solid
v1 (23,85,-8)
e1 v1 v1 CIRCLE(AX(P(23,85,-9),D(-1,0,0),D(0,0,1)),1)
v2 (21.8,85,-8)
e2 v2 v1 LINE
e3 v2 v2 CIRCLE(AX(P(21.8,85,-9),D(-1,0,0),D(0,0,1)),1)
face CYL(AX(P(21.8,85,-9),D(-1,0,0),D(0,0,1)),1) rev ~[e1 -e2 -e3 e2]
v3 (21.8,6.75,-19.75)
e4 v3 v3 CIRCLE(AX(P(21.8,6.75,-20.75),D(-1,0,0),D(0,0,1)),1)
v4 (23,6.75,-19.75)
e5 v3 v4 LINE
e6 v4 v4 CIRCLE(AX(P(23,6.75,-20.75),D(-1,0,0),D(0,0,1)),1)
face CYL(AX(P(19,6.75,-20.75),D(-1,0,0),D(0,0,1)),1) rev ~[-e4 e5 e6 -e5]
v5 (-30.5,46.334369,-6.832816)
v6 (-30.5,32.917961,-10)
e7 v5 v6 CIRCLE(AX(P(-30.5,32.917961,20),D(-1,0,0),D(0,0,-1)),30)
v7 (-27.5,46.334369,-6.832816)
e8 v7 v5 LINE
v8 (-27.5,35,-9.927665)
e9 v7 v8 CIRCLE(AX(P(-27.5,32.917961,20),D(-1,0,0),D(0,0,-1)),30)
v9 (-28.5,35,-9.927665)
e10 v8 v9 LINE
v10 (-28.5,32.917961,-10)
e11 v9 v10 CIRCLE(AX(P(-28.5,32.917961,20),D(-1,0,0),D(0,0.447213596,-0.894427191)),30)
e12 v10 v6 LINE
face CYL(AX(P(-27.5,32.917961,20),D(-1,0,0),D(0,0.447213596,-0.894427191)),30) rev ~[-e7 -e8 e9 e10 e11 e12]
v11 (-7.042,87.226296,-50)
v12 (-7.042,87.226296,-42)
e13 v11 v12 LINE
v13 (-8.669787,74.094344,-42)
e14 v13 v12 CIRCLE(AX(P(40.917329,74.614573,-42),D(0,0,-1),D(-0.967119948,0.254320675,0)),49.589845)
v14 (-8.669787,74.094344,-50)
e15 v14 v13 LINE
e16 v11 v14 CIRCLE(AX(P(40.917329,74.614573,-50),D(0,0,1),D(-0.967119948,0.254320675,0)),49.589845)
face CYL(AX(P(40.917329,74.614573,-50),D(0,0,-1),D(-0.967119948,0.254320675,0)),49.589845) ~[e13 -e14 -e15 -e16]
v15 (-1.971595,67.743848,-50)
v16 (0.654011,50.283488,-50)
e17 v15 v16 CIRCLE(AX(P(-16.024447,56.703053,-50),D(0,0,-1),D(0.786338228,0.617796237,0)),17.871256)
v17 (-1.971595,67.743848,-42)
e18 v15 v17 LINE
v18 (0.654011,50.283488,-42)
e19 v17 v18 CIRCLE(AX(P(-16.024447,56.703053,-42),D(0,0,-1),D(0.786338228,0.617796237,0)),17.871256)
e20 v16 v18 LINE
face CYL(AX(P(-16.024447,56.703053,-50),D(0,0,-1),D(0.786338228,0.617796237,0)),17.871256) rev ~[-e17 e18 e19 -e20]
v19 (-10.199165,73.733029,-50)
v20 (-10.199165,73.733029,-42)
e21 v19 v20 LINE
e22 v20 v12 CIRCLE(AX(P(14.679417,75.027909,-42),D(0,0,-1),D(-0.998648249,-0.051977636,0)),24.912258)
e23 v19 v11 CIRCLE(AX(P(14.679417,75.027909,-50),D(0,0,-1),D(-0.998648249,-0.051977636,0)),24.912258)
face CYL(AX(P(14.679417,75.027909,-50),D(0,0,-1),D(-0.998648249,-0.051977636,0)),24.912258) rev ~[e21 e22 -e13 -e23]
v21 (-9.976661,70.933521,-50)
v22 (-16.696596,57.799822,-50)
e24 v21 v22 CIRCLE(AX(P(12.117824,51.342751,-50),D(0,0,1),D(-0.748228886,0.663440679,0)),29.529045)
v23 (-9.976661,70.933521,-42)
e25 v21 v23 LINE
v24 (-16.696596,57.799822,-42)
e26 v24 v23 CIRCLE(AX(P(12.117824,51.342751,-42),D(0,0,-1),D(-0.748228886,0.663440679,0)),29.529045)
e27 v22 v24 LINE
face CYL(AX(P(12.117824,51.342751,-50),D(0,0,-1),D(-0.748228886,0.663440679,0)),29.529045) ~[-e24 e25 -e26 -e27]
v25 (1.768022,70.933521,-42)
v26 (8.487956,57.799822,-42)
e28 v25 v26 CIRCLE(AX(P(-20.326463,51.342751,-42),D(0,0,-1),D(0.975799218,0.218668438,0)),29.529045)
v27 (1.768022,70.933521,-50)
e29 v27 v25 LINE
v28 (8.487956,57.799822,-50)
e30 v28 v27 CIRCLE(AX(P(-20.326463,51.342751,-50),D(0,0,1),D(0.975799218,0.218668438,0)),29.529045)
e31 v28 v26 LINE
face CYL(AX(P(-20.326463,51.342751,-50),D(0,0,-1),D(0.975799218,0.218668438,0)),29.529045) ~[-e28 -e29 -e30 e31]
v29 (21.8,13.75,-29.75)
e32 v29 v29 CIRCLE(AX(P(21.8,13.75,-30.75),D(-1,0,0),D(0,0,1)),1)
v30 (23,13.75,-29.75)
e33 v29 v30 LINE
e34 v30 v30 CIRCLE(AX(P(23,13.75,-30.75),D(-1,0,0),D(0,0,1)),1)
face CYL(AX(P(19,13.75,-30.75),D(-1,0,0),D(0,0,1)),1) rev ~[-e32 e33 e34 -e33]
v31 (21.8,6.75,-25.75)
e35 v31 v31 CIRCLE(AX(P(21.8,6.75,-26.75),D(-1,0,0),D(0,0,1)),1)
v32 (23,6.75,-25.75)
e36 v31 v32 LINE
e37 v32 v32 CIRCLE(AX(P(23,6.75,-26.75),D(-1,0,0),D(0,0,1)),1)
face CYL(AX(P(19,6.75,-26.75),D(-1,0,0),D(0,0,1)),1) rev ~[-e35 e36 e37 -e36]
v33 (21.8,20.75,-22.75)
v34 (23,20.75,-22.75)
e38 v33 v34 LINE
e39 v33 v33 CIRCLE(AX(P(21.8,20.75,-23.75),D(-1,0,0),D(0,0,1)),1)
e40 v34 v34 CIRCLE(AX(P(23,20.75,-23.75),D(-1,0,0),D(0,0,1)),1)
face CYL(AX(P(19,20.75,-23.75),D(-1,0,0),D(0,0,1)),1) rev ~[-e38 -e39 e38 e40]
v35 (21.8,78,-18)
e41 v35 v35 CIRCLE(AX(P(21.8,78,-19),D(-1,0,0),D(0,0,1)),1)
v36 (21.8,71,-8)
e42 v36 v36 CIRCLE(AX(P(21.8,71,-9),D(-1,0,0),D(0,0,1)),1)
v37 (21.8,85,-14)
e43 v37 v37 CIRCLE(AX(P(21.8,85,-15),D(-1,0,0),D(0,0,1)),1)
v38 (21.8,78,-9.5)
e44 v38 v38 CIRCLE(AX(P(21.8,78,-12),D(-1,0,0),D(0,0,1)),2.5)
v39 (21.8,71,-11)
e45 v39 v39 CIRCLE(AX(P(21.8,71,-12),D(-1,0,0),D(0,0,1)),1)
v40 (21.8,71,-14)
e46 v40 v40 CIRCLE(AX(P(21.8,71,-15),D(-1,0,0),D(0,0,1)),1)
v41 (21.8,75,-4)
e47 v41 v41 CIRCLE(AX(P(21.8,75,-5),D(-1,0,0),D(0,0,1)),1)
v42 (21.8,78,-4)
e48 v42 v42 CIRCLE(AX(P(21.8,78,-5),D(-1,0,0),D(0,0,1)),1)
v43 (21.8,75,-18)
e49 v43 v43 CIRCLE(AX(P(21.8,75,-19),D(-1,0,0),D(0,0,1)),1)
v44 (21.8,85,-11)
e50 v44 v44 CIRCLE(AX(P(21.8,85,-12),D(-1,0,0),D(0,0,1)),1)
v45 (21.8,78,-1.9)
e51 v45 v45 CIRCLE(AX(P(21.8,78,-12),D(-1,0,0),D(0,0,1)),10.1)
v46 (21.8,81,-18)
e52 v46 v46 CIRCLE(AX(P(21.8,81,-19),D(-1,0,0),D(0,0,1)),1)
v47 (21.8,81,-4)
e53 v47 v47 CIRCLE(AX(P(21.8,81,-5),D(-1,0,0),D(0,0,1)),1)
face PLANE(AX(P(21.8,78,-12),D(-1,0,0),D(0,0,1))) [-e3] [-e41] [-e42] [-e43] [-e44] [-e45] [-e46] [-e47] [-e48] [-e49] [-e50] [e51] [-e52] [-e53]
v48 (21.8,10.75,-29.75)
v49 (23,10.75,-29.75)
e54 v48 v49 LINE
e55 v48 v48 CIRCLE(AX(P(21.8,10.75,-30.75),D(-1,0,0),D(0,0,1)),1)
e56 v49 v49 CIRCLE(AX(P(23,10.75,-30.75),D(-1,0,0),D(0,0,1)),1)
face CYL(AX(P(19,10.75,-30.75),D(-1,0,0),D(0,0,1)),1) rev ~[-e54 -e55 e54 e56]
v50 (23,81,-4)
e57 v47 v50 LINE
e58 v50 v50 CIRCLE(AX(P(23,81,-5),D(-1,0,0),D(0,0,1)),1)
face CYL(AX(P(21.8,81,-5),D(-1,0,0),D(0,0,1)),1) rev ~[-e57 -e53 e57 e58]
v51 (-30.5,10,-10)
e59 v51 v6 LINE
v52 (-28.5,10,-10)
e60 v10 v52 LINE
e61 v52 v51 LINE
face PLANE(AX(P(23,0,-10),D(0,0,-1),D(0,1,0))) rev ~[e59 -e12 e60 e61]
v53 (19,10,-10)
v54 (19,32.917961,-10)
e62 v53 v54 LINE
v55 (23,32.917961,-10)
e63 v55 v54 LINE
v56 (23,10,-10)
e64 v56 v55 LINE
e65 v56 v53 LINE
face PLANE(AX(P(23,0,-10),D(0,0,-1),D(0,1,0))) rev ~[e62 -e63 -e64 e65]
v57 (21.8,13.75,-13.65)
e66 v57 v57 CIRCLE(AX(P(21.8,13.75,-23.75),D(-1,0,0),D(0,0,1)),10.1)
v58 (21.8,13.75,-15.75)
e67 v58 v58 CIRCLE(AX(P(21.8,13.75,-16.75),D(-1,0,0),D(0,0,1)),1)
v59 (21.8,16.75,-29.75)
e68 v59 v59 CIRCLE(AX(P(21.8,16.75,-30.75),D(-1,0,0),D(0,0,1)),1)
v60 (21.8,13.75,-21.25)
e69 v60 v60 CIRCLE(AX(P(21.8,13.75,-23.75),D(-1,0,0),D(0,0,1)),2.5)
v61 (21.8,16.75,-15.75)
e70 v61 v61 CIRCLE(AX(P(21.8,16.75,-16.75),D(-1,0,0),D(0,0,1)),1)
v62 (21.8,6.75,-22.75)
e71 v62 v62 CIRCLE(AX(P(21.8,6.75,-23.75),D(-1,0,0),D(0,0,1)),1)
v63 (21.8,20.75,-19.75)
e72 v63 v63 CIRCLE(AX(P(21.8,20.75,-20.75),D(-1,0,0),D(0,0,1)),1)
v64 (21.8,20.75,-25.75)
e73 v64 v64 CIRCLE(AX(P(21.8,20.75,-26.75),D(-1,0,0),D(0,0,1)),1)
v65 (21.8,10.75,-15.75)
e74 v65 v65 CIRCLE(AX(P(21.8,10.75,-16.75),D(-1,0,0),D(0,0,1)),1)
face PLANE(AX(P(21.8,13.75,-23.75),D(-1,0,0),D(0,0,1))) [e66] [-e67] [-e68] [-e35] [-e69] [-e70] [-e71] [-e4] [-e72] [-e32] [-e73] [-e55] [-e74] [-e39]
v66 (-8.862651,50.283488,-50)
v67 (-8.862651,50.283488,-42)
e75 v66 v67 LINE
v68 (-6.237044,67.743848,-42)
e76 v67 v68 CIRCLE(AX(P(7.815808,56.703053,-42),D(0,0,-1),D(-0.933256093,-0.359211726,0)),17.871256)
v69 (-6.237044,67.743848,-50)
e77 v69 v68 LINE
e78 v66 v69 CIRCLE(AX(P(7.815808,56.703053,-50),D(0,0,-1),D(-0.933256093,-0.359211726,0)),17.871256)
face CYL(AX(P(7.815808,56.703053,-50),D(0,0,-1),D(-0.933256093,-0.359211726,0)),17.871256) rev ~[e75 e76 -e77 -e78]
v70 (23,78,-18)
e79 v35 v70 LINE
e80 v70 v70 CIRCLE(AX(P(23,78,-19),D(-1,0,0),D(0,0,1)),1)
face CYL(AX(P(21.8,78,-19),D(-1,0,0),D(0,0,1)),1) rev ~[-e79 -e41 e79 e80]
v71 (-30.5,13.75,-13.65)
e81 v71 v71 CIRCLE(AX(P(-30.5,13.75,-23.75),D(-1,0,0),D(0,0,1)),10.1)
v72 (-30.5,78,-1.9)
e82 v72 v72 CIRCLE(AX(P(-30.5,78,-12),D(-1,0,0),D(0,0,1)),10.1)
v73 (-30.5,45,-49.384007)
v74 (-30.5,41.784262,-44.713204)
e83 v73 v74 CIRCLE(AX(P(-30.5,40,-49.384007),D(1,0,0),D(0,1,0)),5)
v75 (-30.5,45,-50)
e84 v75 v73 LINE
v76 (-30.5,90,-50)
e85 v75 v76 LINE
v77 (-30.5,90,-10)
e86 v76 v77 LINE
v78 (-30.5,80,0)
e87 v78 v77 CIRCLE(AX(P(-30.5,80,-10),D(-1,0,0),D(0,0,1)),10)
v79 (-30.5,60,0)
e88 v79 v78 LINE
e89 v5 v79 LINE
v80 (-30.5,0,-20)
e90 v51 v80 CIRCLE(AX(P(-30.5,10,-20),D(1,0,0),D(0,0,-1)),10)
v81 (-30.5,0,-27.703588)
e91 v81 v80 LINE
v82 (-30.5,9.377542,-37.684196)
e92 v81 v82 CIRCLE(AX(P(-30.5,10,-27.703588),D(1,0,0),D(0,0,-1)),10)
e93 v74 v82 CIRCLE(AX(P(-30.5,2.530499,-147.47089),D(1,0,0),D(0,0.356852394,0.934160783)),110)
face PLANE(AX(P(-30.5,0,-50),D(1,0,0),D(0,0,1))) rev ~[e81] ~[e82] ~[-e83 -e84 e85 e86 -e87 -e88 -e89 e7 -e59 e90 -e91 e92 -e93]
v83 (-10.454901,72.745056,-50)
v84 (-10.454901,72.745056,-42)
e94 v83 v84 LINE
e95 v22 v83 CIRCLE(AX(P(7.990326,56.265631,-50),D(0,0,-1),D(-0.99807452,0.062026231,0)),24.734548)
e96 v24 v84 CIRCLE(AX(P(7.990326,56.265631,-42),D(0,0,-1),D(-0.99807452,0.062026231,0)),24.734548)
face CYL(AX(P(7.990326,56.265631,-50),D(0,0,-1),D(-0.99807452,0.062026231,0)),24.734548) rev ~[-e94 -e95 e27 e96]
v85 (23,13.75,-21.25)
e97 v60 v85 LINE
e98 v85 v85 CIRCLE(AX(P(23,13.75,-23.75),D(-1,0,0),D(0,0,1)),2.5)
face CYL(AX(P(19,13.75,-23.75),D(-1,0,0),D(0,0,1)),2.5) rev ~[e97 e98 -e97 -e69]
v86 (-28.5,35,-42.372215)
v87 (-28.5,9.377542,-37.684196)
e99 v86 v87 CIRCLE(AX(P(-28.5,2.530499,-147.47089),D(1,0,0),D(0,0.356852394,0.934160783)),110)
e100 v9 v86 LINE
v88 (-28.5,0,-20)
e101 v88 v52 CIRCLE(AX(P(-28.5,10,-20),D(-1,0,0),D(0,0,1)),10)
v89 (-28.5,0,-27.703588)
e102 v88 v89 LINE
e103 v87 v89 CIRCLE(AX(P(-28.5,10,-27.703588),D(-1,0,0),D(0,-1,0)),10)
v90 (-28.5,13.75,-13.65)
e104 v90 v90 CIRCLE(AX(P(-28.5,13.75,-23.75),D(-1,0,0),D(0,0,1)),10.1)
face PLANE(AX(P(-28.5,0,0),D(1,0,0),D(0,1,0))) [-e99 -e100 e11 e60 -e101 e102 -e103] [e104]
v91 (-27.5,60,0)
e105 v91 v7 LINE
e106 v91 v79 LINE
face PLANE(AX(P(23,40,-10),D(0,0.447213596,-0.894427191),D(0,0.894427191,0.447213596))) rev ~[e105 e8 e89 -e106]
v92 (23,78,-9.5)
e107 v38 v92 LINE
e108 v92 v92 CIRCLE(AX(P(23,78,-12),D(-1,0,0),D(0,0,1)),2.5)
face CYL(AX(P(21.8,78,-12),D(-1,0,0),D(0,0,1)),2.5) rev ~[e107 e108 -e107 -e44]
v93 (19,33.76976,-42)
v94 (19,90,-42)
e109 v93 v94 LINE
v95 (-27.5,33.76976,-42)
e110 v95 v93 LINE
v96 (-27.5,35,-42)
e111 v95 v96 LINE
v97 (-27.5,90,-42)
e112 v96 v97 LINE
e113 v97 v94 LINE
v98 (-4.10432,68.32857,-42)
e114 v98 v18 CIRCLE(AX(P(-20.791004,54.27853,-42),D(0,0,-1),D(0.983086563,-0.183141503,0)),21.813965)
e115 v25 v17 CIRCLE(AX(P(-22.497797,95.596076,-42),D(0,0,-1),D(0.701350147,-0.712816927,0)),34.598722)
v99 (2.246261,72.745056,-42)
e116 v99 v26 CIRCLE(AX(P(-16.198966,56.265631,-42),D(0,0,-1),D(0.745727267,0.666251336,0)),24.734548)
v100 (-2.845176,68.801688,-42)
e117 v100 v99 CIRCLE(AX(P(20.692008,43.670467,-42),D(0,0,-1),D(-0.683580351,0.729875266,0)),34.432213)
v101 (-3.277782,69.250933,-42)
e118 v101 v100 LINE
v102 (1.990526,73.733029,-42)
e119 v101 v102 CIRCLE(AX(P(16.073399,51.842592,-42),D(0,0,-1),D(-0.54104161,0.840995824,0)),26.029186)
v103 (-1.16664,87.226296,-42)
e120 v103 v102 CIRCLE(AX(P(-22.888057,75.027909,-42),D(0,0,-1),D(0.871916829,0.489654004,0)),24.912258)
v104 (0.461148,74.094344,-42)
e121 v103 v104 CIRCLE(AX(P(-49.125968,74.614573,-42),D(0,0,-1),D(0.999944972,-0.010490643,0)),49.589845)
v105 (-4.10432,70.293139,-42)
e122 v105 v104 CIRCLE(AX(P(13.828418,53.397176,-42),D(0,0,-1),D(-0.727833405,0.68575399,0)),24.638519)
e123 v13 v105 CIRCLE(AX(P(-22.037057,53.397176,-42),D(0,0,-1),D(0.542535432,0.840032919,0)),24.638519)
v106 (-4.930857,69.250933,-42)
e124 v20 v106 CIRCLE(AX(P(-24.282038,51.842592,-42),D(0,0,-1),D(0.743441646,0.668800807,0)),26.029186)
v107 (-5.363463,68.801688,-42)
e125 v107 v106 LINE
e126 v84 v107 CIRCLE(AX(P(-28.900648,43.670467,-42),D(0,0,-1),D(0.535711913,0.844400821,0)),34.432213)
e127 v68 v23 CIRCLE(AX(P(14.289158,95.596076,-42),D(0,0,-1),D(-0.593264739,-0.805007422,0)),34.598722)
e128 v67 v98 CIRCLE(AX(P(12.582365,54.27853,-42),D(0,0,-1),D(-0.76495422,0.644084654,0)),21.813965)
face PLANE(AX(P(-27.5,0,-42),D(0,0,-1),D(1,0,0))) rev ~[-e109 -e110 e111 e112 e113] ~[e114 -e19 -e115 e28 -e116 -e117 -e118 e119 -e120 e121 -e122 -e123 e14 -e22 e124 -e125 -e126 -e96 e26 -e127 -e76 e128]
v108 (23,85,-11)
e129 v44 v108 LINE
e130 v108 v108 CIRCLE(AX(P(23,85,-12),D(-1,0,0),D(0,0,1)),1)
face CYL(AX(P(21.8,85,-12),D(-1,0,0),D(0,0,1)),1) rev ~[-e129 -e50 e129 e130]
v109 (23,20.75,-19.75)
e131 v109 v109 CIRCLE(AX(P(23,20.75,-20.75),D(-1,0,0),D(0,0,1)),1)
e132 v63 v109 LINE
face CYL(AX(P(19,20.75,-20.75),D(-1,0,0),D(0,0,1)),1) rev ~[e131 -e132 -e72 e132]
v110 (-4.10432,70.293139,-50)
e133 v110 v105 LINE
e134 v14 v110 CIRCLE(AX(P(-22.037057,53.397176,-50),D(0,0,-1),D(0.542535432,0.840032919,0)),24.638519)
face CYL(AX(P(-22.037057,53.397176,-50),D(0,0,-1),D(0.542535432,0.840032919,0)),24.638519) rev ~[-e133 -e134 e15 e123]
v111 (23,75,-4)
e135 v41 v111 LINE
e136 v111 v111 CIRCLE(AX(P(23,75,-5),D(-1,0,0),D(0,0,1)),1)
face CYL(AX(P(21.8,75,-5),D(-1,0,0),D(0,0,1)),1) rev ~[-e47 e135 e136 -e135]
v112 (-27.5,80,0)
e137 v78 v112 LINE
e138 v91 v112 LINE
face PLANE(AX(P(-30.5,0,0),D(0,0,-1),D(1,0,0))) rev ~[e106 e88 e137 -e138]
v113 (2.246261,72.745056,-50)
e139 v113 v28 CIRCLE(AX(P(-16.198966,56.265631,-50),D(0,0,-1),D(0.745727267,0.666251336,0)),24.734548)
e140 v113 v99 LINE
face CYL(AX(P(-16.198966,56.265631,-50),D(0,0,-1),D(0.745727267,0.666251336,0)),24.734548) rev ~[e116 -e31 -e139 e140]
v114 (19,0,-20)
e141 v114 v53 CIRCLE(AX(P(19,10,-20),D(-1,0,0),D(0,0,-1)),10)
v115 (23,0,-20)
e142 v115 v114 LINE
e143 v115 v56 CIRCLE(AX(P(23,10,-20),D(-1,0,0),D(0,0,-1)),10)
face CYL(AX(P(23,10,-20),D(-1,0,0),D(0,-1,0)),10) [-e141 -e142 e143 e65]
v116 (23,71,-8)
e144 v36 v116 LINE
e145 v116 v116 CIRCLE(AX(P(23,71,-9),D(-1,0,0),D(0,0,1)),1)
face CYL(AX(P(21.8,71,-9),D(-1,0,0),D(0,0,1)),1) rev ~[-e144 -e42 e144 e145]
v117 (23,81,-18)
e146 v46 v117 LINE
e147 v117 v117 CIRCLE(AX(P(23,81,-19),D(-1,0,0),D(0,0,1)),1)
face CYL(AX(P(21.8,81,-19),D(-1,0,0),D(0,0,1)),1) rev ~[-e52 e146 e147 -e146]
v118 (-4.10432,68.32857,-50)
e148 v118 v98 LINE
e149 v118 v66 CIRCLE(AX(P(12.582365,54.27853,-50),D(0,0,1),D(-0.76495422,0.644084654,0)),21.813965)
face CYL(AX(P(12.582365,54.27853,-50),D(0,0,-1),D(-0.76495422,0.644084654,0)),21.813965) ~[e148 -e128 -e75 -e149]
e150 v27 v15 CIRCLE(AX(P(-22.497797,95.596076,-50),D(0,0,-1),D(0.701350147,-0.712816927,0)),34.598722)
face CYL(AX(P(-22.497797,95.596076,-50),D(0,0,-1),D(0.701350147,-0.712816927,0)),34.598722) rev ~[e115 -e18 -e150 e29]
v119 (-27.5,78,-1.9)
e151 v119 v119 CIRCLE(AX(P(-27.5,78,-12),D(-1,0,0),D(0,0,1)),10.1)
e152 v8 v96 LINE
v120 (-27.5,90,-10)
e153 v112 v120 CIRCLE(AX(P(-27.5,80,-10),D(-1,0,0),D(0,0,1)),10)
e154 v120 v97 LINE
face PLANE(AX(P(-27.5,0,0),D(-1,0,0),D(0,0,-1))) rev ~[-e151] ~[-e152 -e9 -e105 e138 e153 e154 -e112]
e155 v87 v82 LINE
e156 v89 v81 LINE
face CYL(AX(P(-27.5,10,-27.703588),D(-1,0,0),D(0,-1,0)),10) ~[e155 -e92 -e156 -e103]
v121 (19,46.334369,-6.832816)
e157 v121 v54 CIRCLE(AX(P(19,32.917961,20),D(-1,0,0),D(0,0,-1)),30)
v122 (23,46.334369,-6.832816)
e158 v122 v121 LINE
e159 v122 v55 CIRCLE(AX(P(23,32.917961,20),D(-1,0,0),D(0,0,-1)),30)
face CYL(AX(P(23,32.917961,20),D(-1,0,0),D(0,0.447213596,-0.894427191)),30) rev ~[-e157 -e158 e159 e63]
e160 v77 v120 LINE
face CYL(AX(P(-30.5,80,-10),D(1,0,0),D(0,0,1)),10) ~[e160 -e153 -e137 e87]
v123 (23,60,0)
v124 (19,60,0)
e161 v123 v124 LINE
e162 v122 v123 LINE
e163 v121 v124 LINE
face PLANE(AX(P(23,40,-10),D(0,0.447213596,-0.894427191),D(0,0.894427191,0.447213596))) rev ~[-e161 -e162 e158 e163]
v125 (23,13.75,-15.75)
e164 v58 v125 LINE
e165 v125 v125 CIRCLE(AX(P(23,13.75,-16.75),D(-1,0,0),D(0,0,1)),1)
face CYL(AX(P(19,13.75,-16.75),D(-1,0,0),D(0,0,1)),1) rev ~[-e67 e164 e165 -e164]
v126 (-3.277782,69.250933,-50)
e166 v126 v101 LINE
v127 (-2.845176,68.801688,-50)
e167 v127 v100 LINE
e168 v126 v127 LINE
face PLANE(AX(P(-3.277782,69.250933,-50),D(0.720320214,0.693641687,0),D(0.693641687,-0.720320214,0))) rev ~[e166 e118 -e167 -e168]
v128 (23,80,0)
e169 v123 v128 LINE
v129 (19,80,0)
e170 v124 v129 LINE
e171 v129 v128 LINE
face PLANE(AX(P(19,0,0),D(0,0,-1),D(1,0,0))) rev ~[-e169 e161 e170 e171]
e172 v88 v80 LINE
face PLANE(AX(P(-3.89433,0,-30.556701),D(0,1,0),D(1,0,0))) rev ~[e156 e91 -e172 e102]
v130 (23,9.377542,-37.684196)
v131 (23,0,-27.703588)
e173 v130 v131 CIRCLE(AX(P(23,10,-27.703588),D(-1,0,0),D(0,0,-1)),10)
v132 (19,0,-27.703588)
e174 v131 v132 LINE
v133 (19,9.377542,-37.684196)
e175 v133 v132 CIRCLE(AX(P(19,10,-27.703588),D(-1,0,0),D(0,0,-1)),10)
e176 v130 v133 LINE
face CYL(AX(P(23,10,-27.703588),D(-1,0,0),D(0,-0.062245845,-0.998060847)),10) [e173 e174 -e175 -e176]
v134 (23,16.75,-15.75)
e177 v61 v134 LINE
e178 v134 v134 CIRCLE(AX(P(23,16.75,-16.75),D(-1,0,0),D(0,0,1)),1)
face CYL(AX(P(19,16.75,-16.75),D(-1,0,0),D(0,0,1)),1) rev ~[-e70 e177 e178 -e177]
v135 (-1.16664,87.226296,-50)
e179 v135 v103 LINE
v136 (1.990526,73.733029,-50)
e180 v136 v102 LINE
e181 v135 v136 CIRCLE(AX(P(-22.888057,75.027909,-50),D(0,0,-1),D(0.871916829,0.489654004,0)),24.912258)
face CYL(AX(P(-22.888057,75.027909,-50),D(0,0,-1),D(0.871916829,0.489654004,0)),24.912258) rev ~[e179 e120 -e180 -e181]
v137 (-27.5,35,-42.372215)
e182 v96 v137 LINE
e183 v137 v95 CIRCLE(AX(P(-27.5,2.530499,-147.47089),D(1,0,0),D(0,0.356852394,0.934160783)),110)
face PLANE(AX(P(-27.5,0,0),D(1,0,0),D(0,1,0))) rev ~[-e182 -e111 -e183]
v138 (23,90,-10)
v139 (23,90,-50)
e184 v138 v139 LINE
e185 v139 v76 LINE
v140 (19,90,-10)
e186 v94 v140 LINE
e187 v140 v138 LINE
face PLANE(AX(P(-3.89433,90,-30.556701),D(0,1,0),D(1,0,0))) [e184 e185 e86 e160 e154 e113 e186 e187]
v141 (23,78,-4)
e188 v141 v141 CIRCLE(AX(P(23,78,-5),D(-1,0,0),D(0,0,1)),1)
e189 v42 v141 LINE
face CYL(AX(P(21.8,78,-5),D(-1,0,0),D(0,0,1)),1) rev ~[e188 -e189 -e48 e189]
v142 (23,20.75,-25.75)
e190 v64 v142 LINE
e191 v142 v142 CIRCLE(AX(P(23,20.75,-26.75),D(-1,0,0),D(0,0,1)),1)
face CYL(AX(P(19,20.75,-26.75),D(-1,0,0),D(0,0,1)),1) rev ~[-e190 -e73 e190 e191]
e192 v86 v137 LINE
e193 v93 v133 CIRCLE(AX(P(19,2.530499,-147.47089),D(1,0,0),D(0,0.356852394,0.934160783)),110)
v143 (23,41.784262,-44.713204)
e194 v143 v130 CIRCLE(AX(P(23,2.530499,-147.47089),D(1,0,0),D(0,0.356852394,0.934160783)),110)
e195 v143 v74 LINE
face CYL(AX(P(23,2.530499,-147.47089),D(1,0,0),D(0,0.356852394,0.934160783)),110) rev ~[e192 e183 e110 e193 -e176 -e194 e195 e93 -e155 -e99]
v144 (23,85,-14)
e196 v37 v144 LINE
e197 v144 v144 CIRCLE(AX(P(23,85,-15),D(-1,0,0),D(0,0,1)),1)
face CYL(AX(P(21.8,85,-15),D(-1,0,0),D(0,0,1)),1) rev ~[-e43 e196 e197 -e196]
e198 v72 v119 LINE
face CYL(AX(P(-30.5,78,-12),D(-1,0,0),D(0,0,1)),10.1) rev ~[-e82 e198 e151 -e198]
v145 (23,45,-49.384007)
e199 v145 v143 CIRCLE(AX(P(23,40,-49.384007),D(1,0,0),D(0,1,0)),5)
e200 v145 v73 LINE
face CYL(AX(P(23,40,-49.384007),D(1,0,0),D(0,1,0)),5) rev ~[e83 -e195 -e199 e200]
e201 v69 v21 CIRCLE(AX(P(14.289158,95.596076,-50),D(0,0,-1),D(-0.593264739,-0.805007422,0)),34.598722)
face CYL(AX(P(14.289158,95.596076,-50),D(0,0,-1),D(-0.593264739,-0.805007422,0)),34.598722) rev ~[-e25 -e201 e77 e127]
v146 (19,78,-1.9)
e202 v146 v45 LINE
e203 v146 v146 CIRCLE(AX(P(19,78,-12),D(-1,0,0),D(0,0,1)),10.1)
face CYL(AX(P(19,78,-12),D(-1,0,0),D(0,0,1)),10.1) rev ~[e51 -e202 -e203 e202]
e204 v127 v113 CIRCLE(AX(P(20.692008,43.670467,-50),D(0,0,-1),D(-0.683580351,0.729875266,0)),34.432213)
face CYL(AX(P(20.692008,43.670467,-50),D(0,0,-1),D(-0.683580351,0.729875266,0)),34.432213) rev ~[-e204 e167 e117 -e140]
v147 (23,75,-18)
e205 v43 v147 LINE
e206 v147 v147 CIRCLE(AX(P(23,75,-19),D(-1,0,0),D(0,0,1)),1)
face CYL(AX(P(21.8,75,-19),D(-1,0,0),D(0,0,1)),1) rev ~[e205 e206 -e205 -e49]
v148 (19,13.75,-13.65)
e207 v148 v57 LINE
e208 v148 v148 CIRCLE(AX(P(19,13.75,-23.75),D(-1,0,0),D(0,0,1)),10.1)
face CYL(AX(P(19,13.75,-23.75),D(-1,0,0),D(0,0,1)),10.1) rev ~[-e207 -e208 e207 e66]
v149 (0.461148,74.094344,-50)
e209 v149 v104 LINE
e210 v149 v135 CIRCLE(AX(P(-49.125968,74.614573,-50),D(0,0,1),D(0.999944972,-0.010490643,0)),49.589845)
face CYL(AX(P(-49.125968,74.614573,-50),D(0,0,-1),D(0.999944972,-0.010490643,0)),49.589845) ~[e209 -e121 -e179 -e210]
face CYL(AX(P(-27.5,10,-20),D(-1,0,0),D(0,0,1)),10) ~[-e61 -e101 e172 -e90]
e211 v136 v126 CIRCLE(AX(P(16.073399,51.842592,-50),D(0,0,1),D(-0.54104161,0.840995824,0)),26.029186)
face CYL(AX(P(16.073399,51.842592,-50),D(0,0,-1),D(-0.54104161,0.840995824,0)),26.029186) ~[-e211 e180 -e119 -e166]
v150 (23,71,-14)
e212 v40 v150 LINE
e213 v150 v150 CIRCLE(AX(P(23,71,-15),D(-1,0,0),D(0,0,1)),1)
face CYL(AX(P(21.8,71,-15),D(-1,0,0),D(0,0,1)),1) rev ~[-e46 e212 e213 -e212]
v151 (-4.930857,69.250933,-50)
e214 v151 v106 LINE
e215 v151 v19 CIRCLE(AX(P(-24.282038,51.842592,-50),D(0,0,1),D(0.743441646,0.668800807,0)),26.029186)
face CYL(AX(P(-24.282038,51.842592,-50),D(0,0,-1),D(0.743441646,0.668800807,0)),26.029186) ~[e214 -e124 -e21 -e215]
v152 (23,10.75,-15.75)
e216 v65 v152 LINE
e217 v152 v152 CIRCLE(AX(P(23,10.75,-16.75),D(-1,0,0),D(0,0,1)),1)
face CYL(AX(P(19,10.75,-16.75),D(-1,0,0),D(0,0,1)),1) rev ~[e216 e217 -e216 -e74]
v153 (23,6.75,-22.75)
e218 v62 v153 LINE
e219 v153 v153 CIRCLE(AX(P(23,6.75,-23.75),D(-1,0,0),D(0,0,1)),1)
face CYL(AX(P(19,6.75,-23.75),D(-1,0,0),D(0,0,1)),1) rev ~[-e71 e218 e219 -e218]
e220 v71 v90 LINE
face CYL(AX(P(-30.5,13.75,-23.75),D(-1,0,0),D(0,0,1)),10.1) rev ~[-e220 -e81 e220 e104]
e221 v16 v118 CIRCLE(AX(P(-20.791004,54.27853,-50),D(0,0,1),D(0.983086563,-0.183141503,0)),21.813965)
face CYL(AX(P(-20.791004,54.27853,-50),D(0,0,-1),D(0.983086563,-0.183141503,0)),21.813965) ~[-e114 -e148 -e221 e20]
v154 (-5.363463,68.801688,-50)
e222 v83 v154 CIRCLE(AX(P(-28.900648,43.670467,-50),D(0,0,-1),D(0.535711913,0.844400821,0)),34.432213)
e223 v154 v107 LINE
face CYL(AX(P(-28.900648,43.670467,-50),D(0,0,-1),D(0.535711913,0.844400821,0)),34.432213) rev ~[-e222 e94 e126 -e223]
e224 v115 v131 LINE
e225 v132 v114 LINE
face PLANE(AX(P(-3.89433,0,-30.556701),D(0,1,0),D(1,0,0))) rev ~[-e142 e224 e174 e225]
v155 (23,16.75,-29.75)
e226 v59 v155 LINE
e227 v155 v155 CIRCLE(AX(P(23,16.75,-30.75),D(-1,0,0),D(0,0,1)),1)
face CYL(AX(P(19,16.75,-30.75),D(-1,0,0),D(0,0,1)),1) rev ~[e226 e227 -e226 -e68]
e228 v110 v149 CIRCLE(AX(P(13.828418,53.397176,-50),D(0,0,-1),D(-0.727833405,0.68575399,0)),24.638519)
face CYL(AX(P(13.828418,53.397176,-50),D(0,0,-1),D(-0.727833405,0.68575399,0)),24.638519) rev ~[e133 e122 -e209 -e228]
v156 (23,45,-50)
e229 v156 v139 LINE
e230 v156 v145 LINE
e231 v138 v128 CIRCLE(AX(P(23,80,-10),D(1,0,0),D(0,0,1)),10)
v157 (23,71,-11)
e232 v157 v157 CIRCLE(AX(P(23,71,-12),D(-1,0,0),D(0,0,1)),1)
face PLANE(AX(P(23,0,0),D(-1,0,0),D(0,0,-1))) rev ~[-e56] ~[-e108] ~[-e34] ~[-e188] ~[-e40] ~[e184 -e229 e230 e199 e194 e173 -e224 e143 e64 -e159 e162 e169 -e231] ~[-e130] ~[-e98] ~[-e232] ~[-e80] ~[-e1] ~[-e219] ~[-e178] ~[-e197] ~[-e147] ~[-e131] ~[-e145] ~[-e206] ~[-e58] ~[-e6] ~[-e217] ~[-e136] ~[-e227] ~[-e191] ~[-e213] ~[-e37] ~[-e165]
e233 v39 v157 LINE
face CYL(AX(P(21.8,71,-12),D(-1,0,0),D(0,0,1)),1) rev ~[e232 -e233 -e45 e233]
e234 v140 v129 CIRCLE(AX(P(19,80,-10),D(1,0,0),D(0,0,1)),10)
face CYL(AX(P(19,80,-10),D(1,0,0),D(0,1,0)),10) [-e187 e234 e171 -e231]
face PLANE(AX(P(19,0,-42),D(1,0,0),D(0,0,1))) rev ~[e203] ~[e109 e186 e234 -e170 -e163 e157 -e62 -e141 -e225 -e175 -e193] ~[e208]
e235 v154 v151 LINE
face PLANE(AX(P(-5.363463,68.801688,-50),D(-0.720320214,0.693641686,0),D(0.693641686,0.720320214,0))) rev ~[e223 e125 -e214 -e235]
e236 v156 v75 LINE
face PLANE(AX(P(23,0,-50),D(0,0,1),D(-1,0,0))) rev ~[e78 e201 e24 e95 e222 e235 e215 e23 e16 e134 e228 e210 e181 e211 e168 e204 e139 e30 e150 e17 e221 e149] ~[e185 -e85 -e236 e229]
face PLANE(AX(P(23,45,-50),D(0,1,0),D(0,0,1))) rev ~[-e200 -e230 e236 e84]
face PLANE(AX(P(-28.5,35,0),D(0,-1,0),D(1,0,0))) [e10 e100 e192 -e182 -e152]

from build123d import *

# Parameters (mm, degrees)
BOSS_EXTRUDE1_DEPTH = 90
SKETCH2_R           = 10.1
CUT_EXTRUDE1_DEPTH  = 2.8
SKETCH3_R           = 2.5
SKETCH3_R_2         = 1
CUT_EXTRUDE2_DEPTH  = 22
SKETCH4_R           = 10.1
CUT_EXTRUDE3_DEPTH  = 10
FILLET1_R           = 10
CUT_EXTRUDE9_DEPTH  = 70
FILLET2_R           = 30
SKETCH9_R           = 2.5
SKETCH9_R_2         = 1
CUT_EXTRUDE11_DEPTH = 22.8
SKETCH10_R          = 10.1
CUT_EXTRUDE12_DEPTH = 2.8
SKETCH11_R          = 10.1
CUT_EXTRUDE13_DEPTH = 12.8
FILLET4_R           = 10
SKETCH13_W          = 1
SKETCH13_H          = 35
CUT_EXTRUDE14_DEPTH = 50
CUT_EXTRUDE20_DEPTH = 20


with BuildPart() as part:
    # Sketch1 → Boss-Extrude1 (new body)
    with BuildSketch(Plane(origin=(0, 0, 0), x_dir=(1, 0, 0), z_dir=(0, 1, 0))):
        Polygon((-27.5, 0), (-27.5, 42), (19, 42), (19, 0), (23, 0), (23, 50), (-30.5, 50), (-30.5, 0), align=None)
    extrude(amount=BOSS_EXTRUDE1_DEPTH)

    # Sketch2 → Cut-Extrude1 (cut)
    with BuildSketch(Plane.ZY.offset(-19)):
        with Locations((-12, 78)):
            Circle(SKETCH2_R)
    extrude(amount=-CUT_EXTRUDE1_DEPTH, mode=Mode.SUBTRACT)

    # Sketch3 → Cut-Extrude2 (cut)
    with BuildSketch(Plane.ZY.offset(-21.8)):
        with Locations((-12, 78)):
            Circle(SKETCH3_R)
        with Locations((-15, 85)):
            Circle(SKETCH3_R_2)
        with Locations((-12, 85)):
            Circle(SKETCH3_R_2)
        with Locations((-9, 85)):
            Circle(SKETCH3_R_2)
        with Locations((-19, 81)):
            Circle(SKETCH3_R_2)
        with Locations((-19, 78)):
            Circle(SKETCH3_R_2)
        with Locations((-19, 75)):
            Circle(SKETCH3_R_2)
        with Locations((-15, 71)):
            Circle(SKETCH3_R_2)
        with Locations((-12, 71)):
            Circle(SKETCH3_R_2)
        with Locations((-9, 71)):
            Circle(SKETCH3_R_2)
        with Locations((-5, 75)):
            Circle(SKETCH3_R_2)
        with Locations((-5, 78)):
            Circle(SKETCH3_R_2)
        with Locations((-5, 81)):
            Circle(SKETCH3_R_2)
    extrude(amount=-CUT_EXTRUDE2_DEPTH, mode=Mode.SUBTRACT)

    # Sketch4 → Cut-Extrude3 (cut)
    with BuildSketch(Plane.ZY.offset(30.5)):
        with Locations((-12, 78)):
            Circle(SKETCH4_R)
    extrude(amount=-CUT_EXTRUDE3_DEPTH, mode=Mode.SUBTRACT)

    # Fillet1
    fillet1_edges = [part.edges().sort_by_distance(p)[0] for p in [
        (21, 90, 0),
        (-29, 90, 0),
    ]]
    fillet(fillet1_edges, radius=FILLET1_R)

    # Sketch8 → Cut-Extrude9 (cut)
    with BuildSketch(Plane(origin=(23, 0, 0), x_dir=(0, 0, -1), z_dir=(1, 0, 0))):
        Polygon((0, 0), (10, 0), (10, 40), (0, 60), align=None)
        with BuildLine():
            Line((50, 45), (49.384007447, 45))
            ThreePointArc((49.384007447, 45), (46.548633561, 44.118331571), (44.713203531, 41.784261971))
            ThreePointArc((44.713203531, 41.784261971), (39.074197476, 21.242984276), (37.5, 0))
            Line((37.5, 0), (50, 0))
            Line((50, 0), (50, 45))
        make_face()
    extrude(amount=-CUT_EXTRUDE9_DEPTH, mode=Mode.SUBTRACT)

    # Fillet2
    fillet2_edges = [part.edges().sort_by_distance(p)[0] for p in [
        (-29, 40, -10),
        (21, 40, -10),
    ]]
    fillet(fillet2_edges, radius=FILLET2_R)

    # Sketch9 → Cut-Extrude11 (cut)
    with BuildSketch(Plane.ZY.offset(-19)):
        with Locations((-23.75, 13.75)):
            Circle(SKETCH9_R)
        with Locations((-23.75, 20.75)):
            Circle(SKETCH9_R_2)
        with Locations((-26.75, 20.75)):
            Circle(SKETCH9_R_2)
        with Locations((-20.75, 20.75)):
            Circle(SKETCH9_R_2)
        with Locations((-16.75, 10.75)):
            Circle(SKETCH9_R_2)
        with Locations((-16.75, 13.75)):
            Circle(SKETCH9_R_2)
        with Locations((-16.75, 16.75)):
            Circle(SKETCH9_R_2)
        with Locations((-26.75, 6.75)):
            Circle(SKETCH9_R_2)
        with Locations((-23.75, 6.75)):
            Circle(SKETCH9_R_2)
        with Locations((-20.75, 6.75)):
            Circle(SKETCH9_R_2)
        with Locations((-30.75, 16.75)):
            Circle(SKETCH9_R_2)
        with Locations((-30.75, 13.75)):
            Circle(SKETCH9_R_2)
        with Locations((-30.75, 10.75)):
            Circle(SKETCH9_R_2)
    extrude(amount=-CUT_EXTRUDE11_DEPTH, mode=Mode.SUBTRACT)

    # Sketch10 → Cut-Extrude12 (cut)
    with BuildSketch(Plane.ZY.offset(-19)):
        with Locations((-23.75, 13.75)):
            Circle(SKETCH10_R)
    extrude(amount=-CUT_EXTRUDE12_DEPTH, mode=Mode.SUBTRACT)

    # Sketch11 → Cut-Extrude13 (cut)
    with BuildSketch(Plane.ZY.offset(30.5)):
        with Locations((-23.75, 13.75)):
            Circle(SKETCH11_R)
    extrude(amount=-CUT_EXTRUDE13_DEPTH, mode=Mode.SUBTRACT)

    # Fillet4
    fillet4_edges = [part.edges().sort_by_distance(p)[0] for p in [
        (-29, 0, -10),
        (21, 0, -10),
        (21, 0, -37.5),
        (-29, 0, -37.5),
    ]]
    fillet(fillet4_edges, radius=FILLET4_R)

    # Sketch13 → Cut-Extrude14 (cut)
    with BuildSketch(Plane.XY):
        with Locations((-28, 17.5)):
            Rectangle(SKETCH13_W, SKETCH13_H)
    extrude(amount=-CUT_EXTRUDE14_DEPTH, mode=Mode.SUBTRACT)

    # Sketch14 → Cut-Extrude20 (cut)
    with BuildSketch(Plane(origin=(0, 0, -50), x_dir=(-1, 0, 0), z_dir=(0, 0, -1))):
        with BuildLine():
            Line((3.27778227, 69.250932504), (2.845176463, 68.801688012))
            ThreePointArc((2.845176463, 68.801688012), (0.391852409, 70.892666632), (-2.246261107, 72.745056327))
            ThreePointArc((-2.246261107, 72.745056327), (-6.625047437, 65.79780173), (-8.487956293, 57.799821563))
            ThreePointArc((-8.487956293, 57.799821563), (-5.961417112, 64.793099841), (-1.768021606, 70.933521279))
            ThreePointArc((-1.768021606, 70.933521279), (0.045073944, 69.272193574), (1.971595392, 67.743847957))
            ThreePointArc((1.971595392, 67.743847957), (-1.648113464, 59.360569649), (-0.654011446, 50.283488148))
            ThreePointArc((-0.654011446, 50.283488148), (-0.301953995, 59.840560068), (4.104319798, 68.328570399))
            ThreePointArc((4.104319798, 68.328570399), (8.510593592, 59.840560068), (8.862651043, 50.283488148))
            ThreePointArc((8.862651043, 50.283488148), (9.856753061, 59.360569649), (6.237044205, 67.743847957))
            ThreePointArc((6.237044205, 67.743847957), (8.163565653, 69.272193574), (9.976661203, 70.933521279))
            ThreePointArc((9.976661203, 70.933521279), (14.170056709, 64.793099841), (16.69659589, 57.799821563))
            ThreePointArc((16.69659589, 57.799821563), (14.833687034, 65.79780173), (10.454900704, 72.745056327))
            ThreePointArc((10.454900704, 72.745056327), (7.816787188, 70.892666632), (5.363463133, 68.801688012))
            Line((5.363463133, 68.801688012), (4.930857327, 69.250932504))
            ThreePointArc((4.930857327, 69.250932504), (7.415465307, 71.667758801), (10.199165492, 73.733028626))
            ThreePointArc((10.199165492, 73.733028626), (9.57768596, 80.703606058), (7.041999649, 87.2262958))
            ThreePointArc((7.041999649, 87.2262958), (8.295873303, 80.714857968), (8.669787468, 74.094343639))
            ThreePointArc((8.669787468, 74.094343639), (6.272067499, 72.3318465), (4.104319798, 70.29313928))
            ThreePointArc((4.104319798, 70.29313928), (1.936572098, 72.3318465), (-0.461147871, 74.094343639))
            ThreePointArc((-0.461147871, 74.094343639), (-0.087233707, 80.714857968), (1.166639948, 87.2262958))
            ThreePointArc((1.166639948, 87.2262958), (-1.369046364, 80.703606058), (-1.990525895, 73.733028626))
            ThreePointArc((-1.990525895, 73.733028626), (0.79317429, 71.667758801), (3.27778227, 69.250932504))
        make_face()
    extrude(amount=-CUT_EXTRUDE20_DEPTH, mode=Mode.SUBTRACT)


solid = part.part
